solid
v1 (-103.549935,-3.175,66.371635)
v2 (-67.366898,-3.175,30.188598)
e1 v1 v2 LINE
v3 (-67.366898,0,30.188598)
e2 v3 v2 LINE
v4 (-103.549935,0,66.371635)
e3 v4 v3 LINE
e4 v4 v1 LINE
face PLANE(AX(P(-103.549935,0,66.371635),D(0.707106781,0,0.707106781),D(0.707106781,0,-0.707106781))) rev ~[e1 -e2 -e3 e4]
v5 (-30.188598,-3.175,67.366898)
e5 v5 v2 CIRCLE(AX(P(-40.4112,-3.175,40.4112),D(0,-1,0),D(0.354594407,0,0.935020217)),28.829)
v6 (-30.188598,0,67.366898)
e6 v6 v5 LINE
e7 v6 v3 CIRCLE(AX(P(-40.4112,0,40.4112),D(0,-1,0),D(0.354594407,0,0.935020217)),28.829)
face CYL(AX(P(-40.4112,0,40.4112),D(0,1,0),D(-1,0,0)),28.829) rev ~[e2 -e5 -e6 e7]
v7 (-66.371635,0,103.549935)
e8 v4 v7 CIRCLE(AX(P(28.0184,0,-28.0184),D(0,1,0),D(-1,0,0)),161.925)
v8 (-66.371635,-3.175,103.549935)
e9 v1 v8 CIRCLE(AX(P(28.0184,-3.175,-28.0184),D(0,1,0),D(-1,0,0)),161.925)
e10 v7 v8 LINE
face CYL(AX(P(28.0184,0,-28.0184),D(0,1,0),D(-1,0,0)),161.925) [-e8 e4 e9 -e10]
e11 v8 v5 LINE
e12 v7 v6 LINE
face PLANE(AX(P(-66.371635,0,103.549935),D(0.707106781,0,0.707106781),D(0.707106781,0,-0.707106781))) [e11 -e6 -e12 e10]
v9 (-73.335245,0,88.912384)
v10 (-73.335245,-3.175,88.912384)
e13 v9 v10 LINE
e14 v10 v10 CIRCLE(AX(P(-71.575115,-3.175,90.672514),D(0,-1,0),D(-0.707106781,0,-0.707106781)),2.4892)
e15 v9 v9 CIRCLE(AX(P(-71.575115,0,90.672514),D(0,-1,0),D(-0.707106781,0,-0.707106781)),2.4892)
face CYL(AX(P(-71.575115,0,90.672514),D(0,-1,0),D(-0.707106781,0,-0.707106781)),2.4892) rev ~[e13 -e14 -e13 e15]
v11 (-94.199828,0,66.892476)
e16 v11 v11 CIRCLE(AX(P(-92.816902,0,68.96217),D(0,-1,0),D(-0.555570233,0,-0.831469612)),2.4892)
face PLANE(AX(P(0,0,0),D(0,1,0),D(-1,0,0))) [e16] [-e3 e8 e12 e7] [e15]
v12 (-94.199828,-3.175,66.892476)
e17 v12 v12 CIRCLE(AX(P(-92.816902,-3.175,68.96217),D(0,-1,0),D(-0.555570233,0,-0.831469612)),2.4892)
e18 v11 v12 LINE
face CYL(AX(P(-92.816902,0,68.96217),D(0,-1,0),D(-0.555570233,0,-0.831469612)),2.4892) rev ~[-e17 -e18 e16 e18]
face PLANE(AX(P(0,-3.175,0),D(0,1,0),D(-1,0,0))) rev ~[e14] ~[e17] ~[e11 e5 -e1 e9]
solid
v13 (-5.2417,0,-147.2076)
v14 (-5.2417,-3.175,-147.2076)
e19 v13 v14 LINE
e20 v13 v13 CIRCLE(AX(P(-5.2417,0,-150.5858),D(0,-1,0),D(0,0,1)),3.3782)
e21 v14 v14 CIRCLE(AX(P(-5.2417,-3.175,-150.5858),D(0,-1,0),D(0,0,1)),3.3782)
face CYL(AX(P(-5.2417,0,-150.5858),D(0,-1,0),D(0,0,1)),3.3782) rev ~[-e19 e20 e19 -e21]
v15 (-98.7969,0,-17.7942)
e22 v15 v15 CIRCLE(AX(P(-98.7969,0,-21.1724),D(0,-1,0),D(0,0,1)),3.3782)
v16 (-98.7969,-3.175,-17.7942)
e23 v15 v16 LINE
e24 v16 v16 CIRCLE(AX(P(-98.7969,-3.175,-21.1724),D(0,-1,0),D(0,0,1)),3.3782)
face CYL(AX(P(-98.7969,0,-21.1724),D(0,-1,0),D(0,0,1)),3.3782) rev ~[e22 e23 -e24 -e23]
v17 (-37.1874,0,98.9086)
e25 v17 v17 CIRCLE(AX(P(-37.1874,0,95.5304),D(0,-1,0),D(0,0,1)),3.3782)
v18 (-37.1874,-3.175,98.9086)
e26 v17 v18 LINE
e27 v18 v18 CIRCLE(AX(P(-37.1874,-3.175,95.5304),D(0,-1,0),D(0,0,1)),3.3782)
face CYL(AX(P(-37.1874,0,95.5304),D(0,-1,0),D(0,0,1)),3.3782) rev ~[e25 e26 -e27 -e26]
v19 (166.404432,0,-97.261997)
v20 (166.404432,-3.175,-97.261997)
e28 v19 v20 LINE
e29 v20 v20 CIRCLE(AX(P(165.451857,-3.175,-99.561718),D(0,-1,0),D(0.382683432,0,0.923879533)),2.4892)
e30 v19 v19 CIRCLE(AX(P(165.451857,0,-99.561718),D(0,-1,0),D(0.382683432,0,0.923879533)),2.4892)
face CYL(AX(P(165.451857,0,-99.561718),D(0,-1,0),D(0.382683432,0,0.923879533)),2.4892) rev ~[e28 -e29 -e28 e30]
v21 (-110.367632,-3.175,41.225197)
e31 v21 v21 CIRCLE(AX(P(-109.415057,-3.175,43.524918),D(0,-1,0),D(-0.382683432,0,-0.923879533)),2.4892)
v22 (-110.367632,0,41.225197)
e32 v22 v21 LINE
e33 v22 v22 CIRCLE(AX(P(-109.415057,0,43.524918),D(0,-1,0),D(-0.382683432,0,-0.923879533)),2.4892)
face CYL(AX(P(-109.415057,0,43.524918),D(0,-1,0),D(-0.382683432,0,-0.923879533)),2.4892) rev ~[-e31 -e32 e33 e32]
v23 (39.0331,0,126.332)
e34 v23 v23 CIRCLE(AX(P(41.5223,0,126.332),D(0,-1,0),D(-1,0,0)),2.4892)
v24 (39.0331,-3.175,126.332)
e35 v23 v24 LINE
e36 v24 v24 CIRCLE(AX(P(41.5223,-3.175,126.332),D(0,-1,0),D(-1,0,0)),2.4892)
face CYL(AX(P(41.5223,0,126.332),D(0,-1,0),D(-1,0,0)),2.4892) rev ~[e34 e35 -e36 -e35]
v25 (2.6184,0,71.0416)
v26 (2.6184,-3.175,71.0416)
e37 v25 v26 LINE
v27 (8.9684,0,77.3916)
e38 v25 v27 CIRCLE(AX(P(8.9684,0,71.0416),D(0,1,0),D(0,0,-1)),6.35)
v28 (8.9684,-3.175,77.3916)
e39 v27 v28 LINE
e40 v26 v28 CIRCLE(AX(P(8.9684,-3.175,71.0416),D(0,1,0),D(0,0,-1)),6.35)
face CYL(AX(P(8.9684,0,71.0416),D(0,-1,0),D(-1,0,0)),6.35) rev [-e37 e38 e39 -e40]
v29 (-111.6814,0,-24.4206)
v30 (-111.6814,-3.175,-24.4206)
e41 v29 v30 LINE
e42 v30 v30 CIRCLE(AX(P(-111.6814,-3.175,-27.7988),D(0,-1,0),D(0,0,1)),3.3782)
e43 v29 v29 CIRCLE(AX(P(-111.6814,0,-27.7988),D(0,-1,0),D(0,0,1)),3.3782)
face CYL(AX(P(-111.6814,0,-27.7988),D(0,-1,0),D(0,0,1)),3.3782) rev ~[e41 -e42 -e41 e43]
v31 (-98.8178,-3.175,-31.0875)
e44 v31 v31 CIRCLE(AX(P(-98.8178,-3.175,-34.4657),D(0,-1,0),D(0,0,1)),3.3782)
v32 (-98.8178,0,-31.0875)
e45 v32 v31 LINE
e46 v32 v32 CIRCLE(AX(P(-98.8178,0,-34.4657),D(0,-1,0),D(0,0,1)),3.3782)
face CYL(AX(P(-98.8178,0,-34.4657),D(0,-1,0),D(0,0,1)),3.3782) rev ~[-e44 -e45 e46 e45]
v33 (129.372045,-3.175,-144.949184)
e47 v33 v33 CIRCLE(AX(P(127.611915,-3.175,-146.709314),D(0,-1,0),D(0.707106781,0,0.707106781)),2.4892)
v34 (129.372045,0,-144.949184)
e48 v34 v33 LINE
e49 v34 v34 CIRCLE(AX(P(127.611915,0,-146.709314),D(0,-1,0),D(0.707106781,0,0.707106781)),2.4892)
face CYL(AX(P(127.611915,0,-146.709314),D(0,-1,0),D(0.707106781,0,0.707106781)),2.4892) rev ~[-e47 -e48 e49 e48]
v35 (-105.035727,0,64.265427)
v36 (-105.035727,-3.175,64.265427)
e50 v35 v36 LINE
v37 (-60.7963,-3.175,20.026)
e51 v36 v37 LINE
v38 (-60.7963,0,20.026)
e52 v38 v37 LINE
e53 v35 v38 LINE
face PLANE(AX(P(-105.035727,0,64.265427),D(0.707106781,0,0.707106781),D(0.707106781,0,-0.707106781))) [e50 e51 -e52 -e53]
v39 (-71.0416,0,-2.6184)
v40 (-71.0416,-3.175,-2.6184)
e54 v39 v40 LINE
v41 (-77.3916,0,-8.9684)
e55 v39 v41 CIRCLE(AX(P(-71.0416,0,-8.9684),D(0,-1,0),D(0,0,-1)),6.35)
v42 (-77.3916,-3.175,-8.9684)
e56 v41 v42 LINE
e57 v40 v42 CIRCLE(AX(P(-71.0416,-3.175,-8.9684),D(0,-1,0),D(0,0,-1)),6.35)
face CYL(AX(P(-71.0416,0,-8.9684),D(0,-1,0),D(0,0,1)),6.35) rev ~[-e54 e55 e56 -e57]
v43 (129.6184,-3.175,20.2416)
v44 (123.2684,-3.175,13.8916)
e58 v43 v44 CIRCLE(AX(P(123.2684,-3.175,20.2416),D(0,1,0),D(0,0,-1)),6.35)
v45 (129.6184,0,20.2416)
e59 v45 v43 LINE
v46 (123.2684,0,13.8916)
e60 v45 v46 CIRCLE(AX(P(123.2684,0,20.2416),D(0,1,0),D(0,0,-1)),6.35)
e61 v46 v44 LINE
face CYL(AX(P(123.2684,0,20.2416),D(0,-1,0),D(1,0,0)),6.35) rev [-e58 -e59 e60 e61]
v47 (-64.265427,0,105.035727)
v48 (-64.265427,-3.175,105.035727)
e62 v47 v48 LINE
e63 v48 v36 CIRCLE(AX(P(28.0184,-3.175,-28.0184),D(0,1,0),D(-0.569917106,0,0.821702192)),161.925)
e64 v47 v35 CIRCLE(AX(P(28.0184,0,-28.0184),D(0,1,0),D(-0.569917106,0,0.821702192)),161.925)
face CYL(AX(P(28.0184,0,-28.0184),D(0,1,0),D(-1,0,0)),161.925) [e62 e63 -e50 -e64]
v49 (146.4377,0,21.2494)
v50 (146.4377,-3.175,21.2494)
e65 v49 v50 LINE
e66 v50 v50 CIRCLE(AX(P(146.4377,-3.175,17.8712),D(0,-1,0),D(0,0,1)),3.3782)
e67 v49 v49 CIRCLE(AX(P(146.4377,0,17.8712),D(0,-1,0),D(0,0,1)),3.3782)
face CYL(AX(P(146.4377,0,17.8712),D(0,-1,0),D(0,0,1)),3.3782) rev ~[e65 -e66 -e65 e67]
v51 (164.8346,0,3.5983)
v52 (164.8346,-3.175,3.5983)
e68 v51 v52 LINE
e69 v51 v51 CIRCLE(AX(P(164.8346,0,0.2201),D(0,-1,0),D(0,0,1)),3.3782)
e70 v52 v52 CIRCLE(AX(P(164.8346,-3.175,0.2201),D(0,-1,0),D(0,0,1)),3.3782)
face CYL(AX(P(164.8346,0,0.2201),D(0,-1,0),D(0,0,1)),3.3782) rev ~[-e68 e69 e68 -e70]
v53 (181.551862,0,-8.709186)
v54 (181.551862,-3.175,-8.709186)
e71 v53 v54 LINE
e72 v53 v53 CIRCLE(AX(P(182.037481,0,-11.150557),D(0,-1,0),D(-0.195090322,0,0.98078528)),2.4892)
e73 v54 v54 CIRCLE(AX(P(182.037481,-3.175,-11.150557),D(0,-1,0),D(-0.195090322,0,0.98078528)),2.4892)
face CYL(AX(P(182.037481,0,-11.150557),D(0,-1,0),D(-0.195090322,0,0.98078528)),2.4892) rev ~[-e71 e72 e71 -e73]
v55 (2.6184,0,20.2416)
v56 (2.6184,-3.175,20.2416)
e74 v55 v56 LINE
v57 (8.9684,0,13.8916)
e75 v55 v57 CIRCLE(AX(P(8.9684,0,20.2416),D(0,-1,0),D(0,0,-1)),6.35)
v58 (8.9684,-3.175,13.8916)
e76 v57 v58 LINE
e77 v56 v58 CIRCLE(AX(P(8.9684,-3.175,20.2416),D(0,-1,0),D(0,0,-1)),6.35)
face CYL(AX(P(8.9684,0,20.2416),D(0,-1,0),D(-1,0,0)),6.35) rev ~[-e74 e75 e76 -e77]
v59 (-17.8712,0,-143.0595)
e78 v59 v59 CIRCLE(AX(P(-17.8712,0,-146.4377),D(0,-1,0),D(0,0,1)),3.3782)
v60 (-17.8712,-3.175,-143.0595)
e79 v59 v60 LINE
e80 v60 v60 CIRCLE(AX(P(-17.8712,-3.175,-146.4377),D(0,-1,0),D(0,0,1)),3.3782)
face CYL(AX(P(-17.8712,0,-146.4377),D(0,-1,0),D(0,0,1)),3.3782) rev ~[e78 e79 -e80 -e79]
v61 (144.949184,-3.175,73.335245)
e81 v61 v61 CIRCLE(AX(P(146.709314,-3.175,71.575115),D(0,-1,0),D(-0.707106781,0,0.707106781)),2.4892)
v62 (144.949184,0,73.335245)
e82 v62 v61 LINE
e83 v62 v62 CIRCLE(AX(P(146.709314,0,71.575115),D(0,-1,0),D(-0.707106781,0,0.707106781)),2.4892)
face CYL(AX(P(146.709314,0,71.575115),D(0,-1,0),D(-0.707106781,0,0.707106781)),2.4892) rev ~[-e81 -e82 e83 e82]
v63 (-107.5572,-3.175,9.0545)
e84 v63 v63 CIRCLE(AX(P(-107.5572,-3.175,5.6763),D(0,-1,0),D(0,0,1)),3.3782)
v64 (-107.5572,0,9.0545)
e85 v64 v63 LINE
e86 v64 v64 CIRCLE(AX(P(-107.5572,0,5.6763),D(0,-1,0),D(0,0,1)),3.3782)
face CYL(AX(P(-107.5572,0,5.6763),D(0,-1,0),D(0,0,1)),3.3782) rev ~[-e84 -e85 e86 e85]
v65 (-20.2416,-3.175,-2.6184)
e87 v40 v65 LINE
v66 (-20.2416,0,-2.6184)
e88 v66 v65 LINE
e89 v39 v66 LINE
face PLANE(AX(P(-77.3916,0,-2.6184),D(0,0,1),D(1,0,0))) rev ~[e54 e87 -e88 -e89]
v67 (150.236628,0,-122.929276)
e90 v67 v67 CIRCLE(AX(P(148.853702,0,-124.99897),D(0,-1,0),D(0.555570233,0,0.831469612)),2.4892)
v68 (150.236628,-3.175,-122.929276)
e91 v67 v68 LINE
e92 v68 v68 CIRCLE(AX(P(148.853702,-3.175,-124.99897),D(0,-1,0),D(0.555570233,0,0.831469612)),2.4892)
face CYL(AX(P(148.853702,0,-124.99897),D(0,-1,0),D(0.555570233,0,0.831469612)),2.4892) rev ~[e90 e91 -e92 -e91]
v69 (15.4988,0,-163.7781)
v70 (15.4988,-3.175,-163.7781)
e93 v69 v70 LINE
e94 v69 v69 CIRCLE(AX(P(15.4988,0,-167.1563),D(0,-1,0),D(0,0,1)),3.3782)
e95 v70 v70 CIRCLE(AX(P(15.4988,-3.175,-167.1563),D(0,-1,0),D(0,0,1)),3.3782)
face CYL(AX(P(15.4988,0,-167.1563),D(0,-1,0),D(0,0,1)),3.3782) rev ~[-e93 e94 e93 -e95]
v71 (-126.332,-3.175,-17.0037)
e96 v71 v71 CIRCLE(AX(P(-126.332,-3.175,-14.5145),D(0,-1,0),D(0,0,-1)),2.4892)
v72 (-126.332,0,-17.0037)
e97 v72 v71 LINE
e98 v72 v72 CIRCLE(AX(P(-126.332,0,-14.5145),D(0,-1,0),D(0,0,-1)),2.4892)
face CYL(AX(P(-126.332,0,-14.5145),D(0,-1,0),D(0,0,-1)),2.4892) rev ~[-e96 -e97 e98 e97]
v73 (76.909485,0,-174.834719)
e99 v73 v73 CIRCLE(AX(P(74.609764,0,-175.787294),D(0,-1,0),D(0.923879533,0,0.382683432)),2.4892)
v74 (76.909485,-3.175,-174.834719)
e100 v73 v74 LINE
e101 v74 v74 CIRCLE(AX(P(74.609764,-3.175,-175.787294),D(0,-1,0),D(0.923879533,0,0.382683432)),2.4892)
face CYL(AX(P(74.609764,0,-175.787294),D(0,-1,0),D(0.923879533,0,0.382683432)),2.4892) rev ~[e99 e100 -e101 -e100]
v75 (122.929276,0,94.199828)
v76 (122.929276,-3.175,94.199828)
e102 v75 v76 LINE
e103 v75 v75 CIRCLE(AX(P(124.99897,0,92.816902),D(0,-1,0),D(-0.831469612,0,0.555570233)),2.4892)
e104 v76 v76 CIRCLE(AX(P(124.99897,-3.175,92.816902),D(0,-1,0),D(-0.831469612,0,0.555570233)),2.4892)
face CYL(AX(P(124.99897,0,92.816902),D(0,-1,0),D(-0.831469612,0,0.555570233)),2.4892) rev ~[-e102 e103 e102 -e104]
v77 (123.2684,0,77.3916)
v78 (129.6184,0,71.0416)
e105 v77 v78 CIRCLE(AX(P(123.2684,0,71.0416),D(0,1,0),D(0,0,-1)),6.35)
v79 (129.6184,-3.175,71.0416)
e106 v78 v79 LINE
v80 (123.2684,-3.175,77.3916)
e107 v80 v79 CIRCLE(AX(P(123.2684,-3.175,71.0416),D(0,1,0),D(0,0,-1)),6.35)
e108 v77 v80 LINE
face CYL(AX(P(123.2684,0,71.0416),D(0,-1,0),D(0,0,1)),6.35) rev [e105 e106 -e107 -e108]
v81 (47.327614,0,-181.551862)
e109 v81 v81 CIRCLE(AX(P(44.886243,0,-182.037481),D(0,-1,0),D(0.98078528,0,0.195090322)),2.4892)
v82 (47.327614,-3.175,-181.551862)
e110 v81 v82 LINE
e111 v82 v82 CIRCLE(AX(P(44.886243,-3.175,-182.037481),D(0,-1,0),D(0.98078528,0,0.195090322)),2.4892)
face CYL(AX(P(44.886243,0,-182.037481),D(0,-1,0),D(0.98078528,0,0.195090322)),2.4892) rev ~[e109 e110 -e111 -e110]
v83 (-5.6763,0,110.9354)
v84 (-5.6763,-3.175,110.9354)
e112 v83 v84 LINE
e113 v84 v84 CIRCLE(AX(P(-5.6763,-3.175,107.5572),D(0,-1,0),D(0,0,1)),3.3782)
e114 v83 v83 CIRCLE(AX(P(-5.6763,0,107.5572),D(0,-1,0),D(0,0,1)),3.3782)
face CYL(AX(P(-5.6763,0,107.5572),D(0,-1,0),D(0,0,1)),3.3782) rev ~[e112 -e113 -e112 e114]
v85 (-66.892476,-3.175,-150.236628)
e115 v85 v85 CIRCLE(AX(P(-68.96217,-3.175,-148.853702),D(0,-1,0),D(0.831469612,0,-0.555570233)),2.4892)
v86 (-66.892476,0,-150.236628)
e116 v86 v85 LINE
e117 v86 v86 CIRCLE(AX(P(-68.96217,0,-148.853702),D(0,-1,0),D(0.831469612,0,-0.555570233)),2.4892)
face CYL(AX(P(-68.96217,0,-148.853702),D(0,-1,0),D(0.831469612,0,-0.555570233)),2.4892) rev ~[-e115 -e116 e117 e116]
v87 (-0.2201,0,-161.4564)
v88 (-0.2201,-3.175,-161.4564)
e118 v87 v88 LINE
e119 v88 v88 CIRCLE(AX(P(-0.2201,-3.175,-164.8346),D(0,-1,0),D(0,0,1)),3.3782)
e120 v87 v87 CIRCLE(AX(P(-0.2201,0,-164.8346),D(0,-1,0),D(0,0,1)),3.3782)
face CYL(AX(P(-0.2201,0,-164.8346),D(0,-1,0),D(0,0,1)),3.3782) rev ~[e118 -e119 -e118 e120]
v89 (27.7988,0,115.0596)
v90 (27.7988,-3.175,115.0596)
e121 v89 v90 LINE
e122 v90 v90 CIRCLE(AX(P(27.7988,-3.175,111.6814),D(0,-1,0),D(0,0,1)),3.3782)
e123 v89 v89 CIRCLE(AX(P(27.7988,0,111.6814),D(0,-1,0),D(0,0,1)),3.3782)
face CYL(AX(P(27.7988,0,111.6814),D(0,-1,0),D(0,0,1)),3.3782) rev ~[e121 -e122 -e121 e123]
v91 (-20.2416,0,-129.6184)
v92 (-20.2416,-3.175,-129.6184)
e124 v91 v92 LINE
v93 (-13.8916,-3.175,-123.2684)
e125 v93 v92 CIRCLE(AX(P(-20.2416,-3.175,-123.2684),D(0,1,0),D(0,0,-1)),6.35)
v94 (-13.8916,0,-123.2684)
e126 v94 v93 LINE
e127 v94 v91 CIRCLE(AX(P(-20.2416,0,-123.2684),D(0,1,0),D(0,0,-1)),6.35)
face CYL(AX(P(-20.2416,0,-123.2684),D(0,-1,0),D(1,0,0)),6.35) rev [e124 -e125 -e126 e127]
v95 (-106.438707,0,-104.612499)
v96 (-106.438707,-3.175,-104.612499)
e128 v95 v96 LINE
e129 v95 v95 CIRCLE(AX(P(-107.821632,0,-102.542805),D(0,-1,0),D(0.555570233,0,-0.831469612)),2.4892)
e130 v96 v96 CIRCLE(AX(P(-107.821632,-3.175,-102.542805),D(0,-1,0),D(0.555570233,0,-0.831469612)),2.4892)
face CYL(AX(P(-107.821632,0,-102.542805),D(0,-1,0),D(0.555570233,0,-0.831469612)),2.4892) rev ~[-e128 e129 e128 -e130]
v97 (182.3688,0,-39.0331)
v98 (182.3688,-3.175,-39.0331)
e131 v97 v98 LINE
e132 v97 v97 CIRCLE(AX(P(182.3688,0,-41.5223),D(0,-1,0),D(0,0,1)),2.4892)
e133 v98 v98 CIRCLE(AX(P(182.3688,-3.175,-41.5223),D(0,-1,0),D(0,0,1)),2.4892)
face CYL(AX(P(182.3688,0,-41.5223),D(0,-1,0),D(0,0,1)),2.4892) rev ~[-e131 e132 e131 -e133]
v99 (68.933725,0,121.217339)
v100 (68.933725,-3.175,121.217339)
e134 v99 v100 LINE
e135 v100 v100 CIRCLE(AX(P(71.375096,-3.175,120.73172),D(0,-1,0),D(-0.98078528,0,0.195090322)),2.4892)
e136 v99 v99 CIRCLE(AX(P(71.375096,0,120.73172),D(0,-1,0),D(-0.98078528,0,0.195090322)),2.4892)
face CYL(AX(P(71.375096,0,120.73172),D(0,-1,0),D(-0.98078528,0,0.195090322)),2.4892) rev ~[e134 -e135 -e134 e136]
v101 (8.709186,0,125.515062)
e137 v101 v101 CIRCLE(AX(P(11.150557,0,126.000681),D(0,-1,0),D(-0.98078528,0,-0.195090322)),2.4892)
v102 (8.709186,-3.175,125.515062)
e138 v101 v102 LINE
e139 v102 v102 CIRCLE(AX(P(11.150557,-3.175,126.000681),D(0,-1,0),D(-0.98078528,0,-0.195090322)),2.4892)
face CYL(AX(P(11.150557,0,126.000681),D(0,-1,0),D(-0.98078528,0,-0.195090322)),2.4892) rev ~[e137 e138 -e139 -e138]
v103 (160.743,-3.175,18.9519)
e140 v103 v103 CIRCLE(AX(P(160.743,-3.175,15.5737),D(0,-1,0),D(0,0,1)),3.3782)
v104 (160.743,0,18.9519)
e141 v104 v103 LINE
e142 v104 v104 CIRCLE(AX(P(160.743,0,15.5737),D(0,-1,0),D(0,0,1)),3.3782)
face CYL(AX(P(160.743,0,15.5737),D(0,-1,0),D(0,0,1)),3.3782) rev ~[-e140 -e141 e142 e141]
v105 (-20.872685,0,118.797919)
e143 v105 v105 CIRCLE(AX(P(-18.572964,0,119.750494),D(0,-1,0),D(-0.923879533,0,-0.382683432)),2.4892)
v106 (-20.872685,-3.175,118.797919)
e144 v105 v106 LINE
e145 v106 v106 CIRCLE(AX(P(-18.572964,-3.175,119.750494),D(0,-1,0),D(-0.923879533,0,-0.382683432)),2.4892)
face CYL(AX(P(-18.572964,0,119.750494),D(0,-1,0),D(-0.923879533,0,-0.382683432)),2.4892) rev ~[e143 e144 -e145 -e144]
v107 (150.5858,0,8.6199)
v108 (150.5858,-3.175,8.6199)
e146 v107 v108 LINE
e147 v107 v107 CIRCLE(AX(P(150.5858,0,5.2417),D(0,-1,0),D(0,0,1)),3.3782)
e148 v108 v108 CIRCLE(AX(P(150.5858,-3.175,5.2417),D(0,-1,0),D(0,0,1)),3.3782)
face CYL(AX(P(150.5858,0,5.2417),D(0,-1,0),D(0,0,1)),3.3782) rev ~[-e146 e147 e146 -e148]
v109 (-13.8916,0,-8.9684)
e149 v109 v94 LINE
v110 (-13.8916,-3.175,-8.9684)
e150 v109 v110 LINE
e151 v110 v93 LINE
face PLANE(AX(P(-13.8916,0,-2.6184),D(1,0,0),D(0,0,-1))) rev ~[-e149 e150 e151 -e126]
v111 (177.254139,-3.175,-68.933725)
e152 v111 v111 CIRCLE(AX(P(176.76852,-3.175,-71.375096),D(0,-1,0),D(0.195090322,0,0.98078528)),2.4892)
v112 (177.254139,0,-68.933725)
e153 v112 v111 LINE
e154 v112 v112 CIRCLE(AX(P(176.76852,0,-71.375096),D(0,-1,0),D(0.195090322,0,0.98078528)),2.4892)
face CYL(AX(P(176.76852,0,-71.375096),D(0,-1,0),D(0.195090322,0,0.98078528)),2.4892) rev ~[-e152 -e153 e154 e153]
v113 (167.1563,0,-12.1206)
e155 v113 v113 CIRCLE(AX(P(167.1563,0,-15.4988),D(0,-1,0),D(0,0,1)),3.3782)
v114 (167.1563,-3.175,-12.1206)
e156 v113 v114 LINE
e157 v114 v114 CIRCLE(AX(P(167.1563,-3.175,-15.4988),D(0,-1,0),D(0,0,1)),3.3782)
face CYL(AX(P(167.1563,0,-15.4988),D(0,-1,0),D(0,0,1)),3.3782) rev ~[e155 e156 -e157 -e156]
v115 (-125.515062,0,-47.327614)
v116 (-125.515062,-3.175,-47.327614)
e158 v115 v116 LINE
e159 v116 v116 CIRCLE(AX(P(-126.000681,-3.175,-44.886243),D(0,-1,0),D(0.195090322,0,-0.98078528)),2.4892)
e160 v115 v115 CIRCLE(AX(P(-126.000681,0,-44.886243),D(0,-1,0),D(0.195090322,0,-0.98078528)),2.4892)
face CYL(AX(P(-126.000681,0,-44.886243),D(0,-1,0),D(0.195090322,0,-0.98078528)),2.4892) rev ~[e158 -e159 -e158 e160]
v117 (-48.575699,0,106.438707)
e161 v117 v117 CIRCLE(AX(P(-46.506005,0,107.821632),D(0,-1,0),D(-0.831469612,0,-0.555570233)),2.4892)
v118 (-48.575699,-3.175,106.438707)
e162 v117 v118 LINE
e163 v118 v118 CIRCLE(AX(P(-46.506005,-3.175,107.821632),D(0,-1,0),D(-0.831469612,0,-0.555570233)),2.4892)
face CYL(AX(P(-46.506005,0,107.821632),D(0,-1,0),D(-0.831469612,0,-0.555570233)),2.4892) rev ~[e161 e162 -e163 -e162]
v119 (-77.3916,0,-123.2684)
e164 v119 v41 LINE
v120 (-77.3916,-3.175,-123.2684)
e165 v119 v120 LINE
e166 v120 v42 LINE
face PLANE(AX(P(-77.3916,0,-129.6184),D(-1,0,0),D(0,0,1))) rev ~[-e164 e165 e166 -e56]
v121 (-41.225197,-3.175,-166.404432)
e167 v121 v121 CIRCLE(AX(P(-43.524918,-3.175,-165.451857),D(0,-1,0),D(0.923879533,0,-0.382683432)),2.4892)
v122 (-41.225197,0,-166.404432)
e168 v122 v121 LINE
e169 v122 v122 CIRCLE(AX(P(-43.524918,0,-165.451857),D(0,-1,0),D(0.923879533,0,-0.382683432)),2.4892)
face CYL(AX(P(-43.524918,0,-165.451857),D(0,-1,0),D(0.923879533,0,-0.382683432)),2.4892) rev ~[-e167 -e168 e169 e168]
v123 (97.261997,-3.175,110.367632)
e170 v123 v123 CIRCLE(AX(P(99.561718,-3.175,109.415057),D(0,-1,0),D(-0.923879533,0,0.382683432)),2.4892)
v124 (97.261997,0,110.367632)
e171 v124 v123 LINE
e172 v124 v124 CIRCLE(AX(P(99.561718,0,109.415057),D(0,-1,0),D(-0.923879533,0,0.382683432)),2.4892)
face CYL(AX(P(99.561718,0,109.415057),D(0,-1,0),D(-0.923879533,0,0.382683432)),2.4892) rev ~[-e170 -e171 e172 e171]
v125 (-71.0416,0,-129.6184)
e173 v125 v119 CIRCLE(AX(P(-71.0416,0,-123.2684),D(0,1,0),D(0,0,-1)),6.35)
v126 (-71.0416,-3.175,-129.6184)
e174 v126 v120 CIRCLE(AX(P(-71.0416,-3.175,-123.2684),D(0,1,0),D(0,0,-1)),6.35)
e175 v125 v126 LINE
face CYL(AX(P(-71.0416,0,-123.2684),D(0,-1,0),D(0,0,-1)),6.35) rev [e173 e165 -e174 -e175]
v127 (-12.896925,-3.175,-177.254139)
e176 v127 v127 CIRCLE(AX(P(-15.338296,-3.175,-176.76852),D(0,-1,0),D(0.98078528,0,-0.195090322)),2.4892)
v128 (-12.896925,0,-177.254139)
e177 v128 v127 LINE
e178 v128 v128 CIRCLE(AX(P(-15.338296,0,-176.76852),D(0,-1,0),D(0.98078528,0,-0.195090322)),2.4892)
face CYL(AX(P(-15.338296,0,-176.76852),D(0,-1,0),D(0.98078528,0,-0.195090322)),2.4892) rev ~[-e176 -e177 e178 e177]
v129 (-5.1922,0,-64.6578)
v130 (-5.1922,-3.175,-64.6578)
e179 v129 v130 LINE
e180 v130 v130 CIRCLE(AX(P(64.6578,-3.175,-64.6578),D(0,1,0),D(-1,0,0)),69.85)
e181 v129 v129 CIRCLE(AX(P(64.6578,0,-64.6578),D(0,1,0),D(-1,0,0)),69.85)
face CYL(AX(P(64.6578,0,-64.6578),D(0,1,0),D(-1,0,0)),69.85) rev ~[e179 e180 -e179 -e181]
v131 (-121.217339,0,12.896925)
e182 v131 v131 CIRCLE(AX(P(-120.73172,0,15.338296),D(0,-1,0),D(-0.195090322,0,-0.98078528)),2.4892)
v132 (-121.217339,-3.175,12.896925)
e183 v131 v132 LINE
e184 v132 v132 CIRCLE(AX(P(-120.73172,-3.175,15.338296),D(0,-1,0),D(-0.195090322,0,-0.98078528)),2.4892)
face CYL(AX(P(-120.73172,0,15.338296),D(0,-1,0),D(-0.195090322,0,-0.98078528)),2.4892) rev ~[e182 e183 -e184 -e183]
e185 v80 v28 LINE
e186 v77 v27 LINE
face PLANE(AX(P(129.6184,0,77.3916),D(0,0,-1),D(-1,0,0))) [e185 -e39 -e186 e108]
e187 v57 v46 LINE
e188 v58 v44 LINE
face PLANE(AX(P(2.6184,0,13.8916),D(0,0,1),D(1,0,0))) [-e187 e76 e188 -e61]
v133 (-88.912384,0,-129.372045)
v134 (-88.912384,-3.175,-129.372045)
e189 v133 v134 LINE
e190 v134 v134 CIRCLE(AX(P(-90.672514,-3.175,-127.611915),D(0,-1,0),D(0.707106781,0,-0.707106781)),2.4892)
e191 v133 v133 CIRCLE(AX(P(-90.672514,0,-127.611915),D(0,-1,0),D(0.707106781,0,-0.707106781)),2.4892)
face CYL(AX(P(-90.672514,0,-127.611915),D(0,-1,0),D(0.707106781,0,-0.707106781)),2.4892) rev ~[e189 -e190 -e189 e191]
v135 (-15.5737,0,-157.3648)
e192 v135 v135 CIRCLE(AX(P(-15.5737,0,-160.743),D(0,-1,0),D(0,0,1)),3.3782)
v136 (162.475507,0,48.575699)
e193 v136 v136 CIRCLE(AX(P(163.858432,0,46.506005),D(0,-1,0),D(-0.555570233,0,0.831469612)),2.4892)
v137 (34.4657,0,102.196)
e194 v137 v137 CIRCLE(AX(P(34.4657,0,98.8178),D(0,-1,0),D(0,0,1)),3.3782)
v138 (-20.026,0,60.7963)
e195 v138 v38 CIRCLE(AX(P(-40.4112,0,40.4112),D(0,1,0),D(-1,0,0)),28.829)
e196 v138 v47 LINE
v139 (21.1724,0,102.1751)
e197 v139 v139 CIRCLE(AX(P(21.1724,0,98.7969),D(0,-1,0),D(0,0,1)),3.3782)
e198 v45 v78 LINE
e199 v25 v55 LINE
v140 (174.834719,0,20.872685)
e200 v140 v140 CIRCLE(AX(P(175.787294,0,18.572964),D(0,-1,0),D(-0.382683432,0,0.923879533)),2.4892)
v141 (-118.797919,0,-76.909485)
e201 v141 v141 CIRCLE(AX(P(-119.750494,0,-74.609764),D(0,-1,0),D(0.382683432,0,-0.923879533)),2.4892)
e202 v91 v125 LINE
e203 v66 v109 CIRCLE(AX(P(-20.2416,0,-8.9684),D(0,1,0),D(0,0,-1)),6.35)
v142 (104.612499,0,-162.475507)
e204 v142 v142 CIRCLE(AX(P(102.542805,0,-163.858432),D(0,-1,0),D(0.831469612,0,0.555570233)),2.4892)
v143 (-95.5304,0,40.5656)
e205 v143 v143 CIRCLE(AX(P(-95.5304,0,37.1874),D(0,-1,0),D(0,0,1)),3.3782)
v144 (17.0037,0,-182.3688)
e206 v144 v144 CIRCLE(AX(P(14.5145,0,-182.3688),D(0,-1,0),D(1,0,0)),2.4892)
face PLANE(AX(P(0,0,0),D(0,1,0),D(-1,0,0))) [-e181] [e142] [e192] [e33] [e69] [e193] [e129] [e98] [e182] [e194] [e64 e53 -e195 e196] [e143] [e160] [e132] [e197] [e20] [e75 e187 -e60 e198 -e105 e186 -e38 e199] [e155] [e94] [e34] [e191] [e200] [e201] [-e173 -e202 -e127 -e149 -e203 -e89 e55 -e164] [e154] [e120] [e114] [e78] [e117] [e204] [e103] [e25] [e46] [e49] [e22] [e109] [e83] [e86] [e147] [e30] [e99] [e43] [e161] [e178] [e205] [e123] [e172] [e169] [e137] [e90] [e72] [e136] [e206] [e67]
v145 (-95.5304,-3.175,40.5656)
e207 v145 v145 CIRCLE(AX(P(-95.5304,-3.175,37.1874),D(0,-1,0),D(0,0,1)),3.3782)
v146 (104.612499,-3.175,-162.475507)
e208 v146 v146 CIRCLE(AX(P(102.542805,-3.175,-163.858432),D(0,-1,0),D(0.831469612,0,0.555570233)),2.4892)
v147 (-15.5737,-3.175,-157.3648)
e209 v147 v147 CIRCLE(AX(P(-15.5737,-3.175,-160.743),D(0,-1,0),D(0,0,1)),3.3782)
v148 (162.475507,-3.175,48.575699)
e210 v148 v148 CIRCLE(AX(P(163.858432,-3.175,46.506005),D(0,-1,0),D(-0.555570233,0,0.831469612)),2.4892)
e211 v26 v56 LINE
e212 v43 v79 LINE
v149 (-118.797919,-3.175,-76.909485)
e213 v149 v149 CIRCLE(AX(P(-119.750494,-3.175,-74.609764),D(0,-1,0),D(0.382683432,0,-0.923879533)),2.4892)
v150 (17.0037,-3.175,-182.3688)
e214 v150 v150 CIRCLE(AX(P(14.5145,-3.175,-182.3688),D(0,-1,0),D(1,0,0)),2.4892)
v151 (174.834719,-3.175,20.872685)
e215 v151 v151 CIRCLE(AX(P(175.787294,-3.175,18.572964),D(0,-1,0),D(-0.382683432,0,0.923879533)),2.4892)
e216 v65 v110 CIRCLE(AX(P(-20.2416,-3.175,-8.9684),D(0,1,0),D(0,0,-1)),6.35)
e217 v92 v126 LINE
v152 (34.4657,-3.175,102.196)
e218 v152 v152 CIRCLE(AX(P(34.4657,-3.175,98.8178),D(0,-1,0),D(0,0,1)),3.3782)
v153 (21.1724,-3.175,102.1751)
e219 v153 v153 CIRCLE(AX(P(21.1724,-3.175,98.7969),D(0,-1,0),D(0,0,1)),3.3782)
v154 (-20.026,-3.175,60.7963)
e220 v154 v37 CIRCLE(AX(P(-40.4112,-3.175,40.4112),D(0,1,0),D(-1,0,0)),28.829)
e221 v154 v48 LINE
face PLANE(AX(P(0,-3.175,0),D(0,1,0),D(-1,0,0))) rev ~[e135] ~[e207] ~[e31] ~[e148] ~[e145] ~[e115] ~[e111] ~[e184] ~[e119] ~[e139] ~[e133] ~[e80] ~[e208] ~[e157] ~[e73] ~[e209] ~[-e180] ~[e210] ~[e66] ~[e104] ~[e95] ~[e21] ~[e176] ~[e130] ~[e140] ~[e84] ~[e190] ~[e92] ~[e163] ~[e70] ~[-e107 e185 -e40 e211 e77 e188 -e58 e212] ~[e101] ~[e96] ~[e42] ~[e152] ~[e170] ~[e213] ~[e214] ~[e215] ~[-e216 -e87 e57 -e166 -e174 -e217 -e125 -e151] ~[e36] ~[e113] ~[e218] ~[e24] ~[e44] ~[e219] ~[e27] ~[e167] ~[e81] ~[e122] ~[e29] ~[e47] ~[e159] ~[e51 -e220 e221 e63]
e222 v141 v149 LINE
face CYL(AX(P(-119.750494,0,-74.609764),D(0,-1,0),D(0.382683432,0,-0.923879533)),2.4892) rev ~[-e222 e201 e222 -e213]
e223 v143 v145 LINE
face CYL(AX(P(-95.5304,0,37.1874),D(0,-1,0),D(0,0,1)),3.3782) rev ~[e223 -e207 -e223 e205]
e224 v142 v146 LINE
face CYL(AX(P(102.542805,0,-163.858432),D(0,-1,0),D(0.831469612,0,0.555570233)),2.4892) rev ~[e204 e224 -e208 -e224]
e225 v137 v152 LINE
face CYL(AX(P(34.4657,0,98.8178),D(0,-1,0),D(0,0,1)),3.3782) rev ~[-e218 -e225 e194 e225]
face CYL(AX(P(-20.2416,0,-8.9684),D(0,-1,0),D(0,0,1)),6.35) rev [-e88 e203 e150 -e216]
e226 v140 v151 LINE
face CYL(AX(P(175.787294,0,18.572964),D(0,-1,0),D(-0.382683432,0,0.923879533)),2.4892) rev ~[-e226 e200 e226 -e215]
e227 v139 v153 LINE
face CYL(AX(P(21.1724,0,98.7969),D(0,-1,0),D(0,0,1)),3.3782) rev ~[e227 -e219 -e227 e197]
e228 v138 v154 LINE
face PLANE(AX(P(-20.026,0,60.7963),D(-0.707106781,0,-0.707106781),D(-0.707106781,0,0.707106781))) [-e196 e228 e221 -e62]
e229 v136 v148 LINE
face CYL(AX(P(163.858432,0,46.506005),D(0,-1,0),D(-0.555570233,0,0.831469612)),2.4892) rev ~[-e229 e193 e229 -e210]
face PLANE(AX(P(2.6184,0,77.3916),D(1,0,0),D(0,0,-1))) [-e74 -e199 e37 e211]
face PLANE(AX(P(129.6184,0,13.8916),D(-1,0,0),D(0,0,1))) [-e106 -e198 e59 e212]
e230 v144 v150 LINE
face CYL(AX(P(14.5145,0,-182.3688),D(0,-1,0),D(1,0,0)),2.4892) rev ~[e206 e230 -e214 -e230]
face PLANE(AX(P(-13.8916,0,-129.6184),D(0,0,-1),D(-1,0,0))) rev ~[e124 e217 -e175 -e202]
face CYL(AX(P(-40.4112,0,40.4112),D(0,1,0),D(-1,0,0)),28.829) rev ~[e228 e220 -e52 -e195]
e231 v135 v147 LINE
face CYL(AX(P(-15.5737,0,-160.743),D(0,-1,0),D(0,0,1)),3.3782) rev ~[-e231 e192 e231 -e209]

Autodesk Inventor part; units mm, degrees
ref_plane "YZ Plane" through (0, 0, 0) normal (1, 0, 0) x (0, 1, 0)
ref_plane "XZ Plane" through (0, 0, 0) normal (0, 1, 0) x (-1, 0, 0)
ref_plane "XY Plane" through (0, 0, 0) normal (0, 0, 1) x (1, 0, 0)
sketch "Sketch2" plane through (0, 0, 0) normal (0, 1, 0) x (-1, 0, 0)
  line L0 (0, 0) -> (-28.0184, -28.0184) construction
  line L1 (0, 0) -> (-39.624, 0) construction
  circle A0 centre (-28.0184, -28.0184) radius 161.925
  dimension "d6" = 39.624
  dimension "d7" = 315
  dimension "d8" = 323.85
extrude "Extrusion1" add sketch "Sketch2" against normal blind 3.175
sketch "Sketch1" plane through (0, 0, 0) normal (0, 1, 0) x (-1, 0, 0)
  line L0 (0, 0) -> (-64.6578, -64.6578) construction
  line L1 (0, 0) -> (91.44, 0) construction
  circle A0 centre (-64.6578, -64.6578) radius 69.85
  line L2 (0, 0) -> (40.4112, 40.4112) construction
  line L3 (0, 0) -> (57.15, 0) construction
  circle A1 centre (40.4112, 40.4112) radius 28.829
  dimension "d0" = 91.44
  dimension "d1" = 135
  dimension "d2" = 139.7
  dimension "d3" = 57.15
  dimension "d4" = 45
  dimension "d5" = 57.658
extrude "Extrusion2" cut sketch "Sketch1" against normal up to surface (3.175 mm away)
sketch "Sketch6" plane through (28.0184, 0, -28.0184) normal (0, 1, 0) x (1, 0, 0)
  circle A0 centre (0, 0) radius 161.925 projected
  line L0 (0, 0) -> (154.3504, 13.5039)
  line L1 (0, 0) -> (154.94, 0) construction
  point P0 (-28.0184, -28.0184)
  dimension "d65" = 154.94
  dimension "d66" = 5
hole "Hole3" at (182.3688, 0, -41.5223) direction (0, -1, 0) diameter 4.9784 end through all thread size "1/4-20 UNC" class "2B" standard "ANSI Unified Screw Threads"
pattern_circular "Circular Pattern1" count 32 over 360 about axis through (28.0184, 0, -28.0184) along (0, -1, 0) of "Hole3"
sketch "Sketch11" plane through (28.0184, 0, -28.0184) normal (0, 1, 0) x (1, 0, 0)
  line L0 (-28.0184, -28.0184) -> (137.3706, 110.7594) construction
  line L1 (-28.0184, -28.0184) -> (187.8816, -28.0184) construction
  line L2 (-28.0184, -28.0184) -> (110.7594, 137.3706) construction
  line L3 (-28.0184, -28.0184) -> (187.8816, -28.0184) construction
  circle A0 centre (137.3706, 110.7594) radius 123.2917
  circle A1 centre (110.7594, 137.3706) radius 123.2917
  circle A2 centre (-166.7962, 137.3706) radius 123.2917
  circle A3 centre (-193.4074, 110.7594) radius 123.2917
  circle A4 centre (-193.4074, -166.7962) radius 123.2917
  circle A5 centre (-166.7962, -193.4074) radius 123.2917
  circle A6 centre (110.7594, -193.4074) radius 123.2917
  circle A7 centre (137.3706, -166.7962) radius 123.2917
  line L4 (0, 0) -> (196.85, 0) construction
  circle A8 centre (0, 0) radius 161.925 projected
  line L5 (0, 0) -> (-150.7958, -126.5327)
  line L6 (0, 0) -> (196.85, 0) construction
  line L7 (0, 0) -> (-126.5327, -150.7958)
  line L8 (0, 0) -> (196.85, 0) construction
  circle A9 centre (-150.7958, -126.5327) radius 123.2917 construction
  circle A10 centre (-126.5327, -150.7958) radius 123.2917 construction
  circle A11 centre (0, 0) radius 139.7
  point P0 (138.6284, 17.2699)
  point P1 (132.7246, -43.5921)
  point P2 (-0.2196, -139.6998)
  point P3 (-139.6998, -0.2196)
  point P4 (-43.5921, 132.7246)
  point P5 (-12.5196, 139.1379)
  point P6 (139.1379, -12.5196)
  point P7 (-65.2058, -123.5488)
  point P8 (-123.5488, -65.2058)
  dimension "d101" = 246.5835
  dimension "d147" = 279.4
  dimension "d97" = 215.9
  dimension "d98" = 40
  dimension "d99" = 215.9
  dimension "d100" = 50
  dimension "d102" = 246.5835
  dimension "d105" = 360
  dimension "d109" = 196.85
  dimension "d110" = 140
  dimension "d111" = 196.85
  dimension "d112" = 130
  dimension "d148" = 246.5835
  dimension "d149" = 246.5835
hole "Hole5" at (-111.6814, 0, -27.7988) at (160.743, 0, 15.5737) at (-15.5737, 0, -160.743) at (15.4988, 0, -167.1563) at (167.1563, 0, -15.4988) at (27.7988, 0, 111.6814) at (-95.5304, 0, 37.1874) at (-37.1874, 0, 95.5304) direction (0, -1, 0) diameter 6.7564 end through all clearance for "Flat Head Machine Screw (82)" size "1/4" standard "Ansi Unified Screw Threads"
sketch "Sketch12" plane through (28.0184, 0, -28.0184) normal (0, 1, 0) x (1, 0, 0)
  circle A0 centre (0, 0) radius 161.925 projected
  line L0 (-28.0184, -28.0184) -> (6.2716, -28.0184) construction
  line L1 (0, 0) -> (-28.2385, 136.8162)
  line L2 (0, 0) -> (139.7, 0) construction
  circle A1 centre (-43.5921, 132.7246) radius 3.3782 projected
  circle A2 centre (-12.5196, 139.1379) radius 3.3782 projected
  line L3 (-43.5921, 132.7246) -> (-12.5196, 139.1379)
  circle A3 centre (132.7246, -43.5921) radius 3.3782 projected
  circle A4 centre (139.1379, -12.5196) radius 3.3782 projected
  line L4 (132.7246, -43.5921) -> (139.1379, -12.5196)
  line L5 (0, 0) -> (136.8162, -28.2385)
  line L6 (0, 0) -> (-135.5756, -33.6947)
  circle A5 centre (-139.6998, -0.2196) radius 3.3782 projected
  circle A6 centre (-123.5488, -65.2058) radius 3.3782 projected
  line L7 (-139.6998, -0.2196) -> (-123.5488, -65.2058)
  circle A7 centre (-65.2058, -123.5488) radius 3.3782 projected
  circle A8 centre (-0.2196, -139.6998) radius 3.3782 projected
  line L8 (-65.2058, -123.5488) -> (-0.2196, -139.6998)
  line L9 (0, 0) -> (-33.6947, -135.5756)
  point P0 (136.8162, -28.2385)
  point P1 (-33.6947, -135.5756)
  dimension "d150" = 139.7
  dimension "d152" = 139.7
  dimension "d153" = 139.7
  dimension "d154" = 139.7
hole "Hole6" at (-0.2201, 0, -164.8346) at (-107.5572, 0, 5.6763) at (-5.6763, 0, 107.5572) at (164.8346, 0, 0.2201) direction (0, -1, 0) diameter 6.7564 end through all clearance for "Flat Head Machine Screw (82)" size "1/4" standard "Ansi Unified Screw Threads"
sketch "Sketch13" plane through (28.0184, 0, -28.0184) normal (0, 1, 0) x (1, 0, 0)
  line L0 (-41.91, -25.4) -> (-41.91, 101.6)
  line L1 (-41.91, 101.6) -> (-105.41, 101.6)
  line L2 (-105.41, 101.6) -> (-105.41, -25.4)
  line L3 (-105.41, -25.4) -> (-41.91, -25.4)
  line L4 (-41.91, -25.4) -> (-105.41, 101.6) construction
  line L5 (-41.91, 101.6) -> (-105.41, -25.4) construction
  line L6 (-41.91, -25.4) -> (85.09, -25.4) construction
  circle A0 centre (0, 0) radius 161.925 projected
  line L7 (0, 0) -> (17.9605, 17.9605)
  line L8 (0, 0) -> (25.4, 0) construction
  line L9 (-25.4, -41.91) -> (101.6, -41.91)
  line L10 (101.6, -41.91) -> (101.6, -105.41)
  line L11 (101.6, -105.41) -> (-25.4, -105.41)
  line L12 (-25.4, -105.41) -> (-25.4, -41.91)
  line L13 (0, 0) -> (-73.66, 0) construction
  line L14 (0, 0) -> (73.66, 0) construction
  line L15 (-73.66, 0) -> (-73.66, 38.1) construction
  point P0 (-28.0184, -28.0184)
  dimension "d155" = 127
  dimension "d156" = 90
  dimension "d157" = 63.5
  dimension "d160" = 25.4
  dimension "d161" = 45
  dimension "d164" = 73.66
  dimension "d165" = 180
  dimension "d166" = 38.1
  dimension "d167" = 90
extrude "Extrusion3" cut sketch "Sketch13" against normal blind 25.4 contours L3 L2 L1 L0 | L9 L10 L11 L12
fillet "Fillet1" radius 6.35 8 edges at (-13.8916, -1.5875, -129.6184) (-77.3916, -1.5875, -129.6184) (-77.3916, -1.5875, -2.6184) (-13.8916, -1.5875, -2.6184) (129.6184, -1.5875, 77.3916) (2.6184, -1.5875, 13.8916) (2.6184, -1.5875, 77.3916) (129.6184, -1.5875, 13.8916)
sketch "Sketch15" plane through (28.0184, 0, -28.0184) normal (0, 1, 0) x (1, 0, 0)
  circle A0 centre (0, 0) radius 144.4625
  point P0 (-28.0184, -28.0184)
  point P1 (-68.4296, -68.4296)
  dimension "d171" = 288.925
sketch "Sketch17" plane through (28.0184, 0, -28.0184) normal (0, 1, 0) x (1, 0, 0)
  circle A0 centre (-68.4296, -68.4296) radius 28.829 projected
  line L0 (-88.8147, -48.0444) -> (-48.0444, -88.8147)
  line L1 (-48.0444, -88.8147) -> (-94.1131, -134.8834)
  line L2 (-94.1131, -134.8834) -> (-134.8834, -94.1131)
  line L3 (-134.8834, -94.1131) -> (-88.8147, -48.0444)
  circle A1 centre (0, 0) radius 161.925 projected
  line L4 (-114.4983, -114.4983) -> (-68.4296, -68.4296)
  line L5 (-134.8834, -94.1131) -> (-133.0874, -95.9091)
  line L6 (-133.0874, -95.9091) -> (-87.0187, -49.8404)
  line L7 (-87.0187, -49.8404) -> (-88.8147, -48.0444)
  line L8 (-88.8147, -48.0444) -> (-134.8834, -94.1131)
  line L9 (-94.1131, -134.8834) -> (-95.9091, -133.0874)
  line L10 (-95.9091, -133.0874) -> (-49.8404, -87.0187)
  line L11 (-49.8404, -87.0187) -> (-48.0444, -88.8147)
  line L12 (-48.0444, -88.8147) -> (-94.1131, -134.8834)
  point P0 (-28.0184, -28.0184)
  dimension "d180" = 2.54
  dimension "d181" = 2.54
extrude "Extrusion4" cut sketch "Sketch17" against normal up to surface (3.175 mm away) contours L0 L6 A0 | A0 L6 A1 L3 | L1 A1 L10 A0 | A0 L10 L0 | A1 L6 L2 L3 | L1 L2 L10 A1
sketch "Sketch19" plane through (0, 0, 0) normal (0, 1, 0) x (1, 0, 0)
  arc A0 (-64.2654, -105.0358) -> (-105.0358, -64.2654) centre (28.0184, 28.0184) ccw projected
  circle A1 centre (28.0184, 28.0184) radius 127 construction
  circle A2 centre (-15.5737, 160.743) radius 3.3782 construction
  circle A3 centre (-111.6814, 27.7988) radius 3.3782 construction
  line L0 (28.0184, 28.0184) -> (78.8184, 28.0184) construction
  line L1 (28.0184, 28.0184) -> (45.9789, 45.9789) construction
  line L2 (28.0184, 28.0184) -> (53.4184, 28.0184) construction
  line L3 (28.0184, 28.0184) -> (-17.8712, 146.4377) construction
  line L4 (28.0184, 28.0184) -> (-5.2417, 150.5858) construction
  circle A4 centre (-15.5737, 160.743) radius 3.3782 construction
  line L5 (28.0184, 28.0184) -> (-15.5737, 160.743) construction
  line L6 (28.0184, 28.0184) -> (-111.6814, 27.7988) construction
  line L7 (28.0184, 28.0184) -> (-98.7969, 21.1724) construction
  line L8 (28.0184, 28.0184) -> (-98.8178, 34.4657) construction
  line L9 (-39.6385, -39.6385) -> (28.0184, 28.0184)
  point P0 (0, 0)
  point P1 (150.5858, -5.2417)
  point P2 (34.4657, -98.8178)
  point P3 (21.1724, -98.7969)
  point P4 (146.4377, -17.8712)
  dimension "d201" = 254
  dimension "d212" = 25.4
  dimension "d213" = 45
  dimension "d215" = 3
  dimension "d216" = 3
hole "Hole9" at (-5.2417, 0, -150.5858) at (-98.8178, 0, -34.4657) at (-98.7969, 0, -21.1724) at (-17.8712, 0, -146.4377) at (21.1724, 0, 98.7969) at (34.4657, 0, 98.8178) at (146.4377, 0, 17.8712) at (150.5858, 0, 5.2417) direction (0, -1, 0) diameter 6.7564 depth 25.4 tip angle 118 clearance for "Flat Head Machine Screw (82)" size "1/4" standard "Ansi Unified Screw Threads"
equation "\"d101\" = d102"
equation "\"d148\" = d102"
equation "\"d149\" = d102"
properties part number "mini 55K stage" material "Aluminum 6061"
